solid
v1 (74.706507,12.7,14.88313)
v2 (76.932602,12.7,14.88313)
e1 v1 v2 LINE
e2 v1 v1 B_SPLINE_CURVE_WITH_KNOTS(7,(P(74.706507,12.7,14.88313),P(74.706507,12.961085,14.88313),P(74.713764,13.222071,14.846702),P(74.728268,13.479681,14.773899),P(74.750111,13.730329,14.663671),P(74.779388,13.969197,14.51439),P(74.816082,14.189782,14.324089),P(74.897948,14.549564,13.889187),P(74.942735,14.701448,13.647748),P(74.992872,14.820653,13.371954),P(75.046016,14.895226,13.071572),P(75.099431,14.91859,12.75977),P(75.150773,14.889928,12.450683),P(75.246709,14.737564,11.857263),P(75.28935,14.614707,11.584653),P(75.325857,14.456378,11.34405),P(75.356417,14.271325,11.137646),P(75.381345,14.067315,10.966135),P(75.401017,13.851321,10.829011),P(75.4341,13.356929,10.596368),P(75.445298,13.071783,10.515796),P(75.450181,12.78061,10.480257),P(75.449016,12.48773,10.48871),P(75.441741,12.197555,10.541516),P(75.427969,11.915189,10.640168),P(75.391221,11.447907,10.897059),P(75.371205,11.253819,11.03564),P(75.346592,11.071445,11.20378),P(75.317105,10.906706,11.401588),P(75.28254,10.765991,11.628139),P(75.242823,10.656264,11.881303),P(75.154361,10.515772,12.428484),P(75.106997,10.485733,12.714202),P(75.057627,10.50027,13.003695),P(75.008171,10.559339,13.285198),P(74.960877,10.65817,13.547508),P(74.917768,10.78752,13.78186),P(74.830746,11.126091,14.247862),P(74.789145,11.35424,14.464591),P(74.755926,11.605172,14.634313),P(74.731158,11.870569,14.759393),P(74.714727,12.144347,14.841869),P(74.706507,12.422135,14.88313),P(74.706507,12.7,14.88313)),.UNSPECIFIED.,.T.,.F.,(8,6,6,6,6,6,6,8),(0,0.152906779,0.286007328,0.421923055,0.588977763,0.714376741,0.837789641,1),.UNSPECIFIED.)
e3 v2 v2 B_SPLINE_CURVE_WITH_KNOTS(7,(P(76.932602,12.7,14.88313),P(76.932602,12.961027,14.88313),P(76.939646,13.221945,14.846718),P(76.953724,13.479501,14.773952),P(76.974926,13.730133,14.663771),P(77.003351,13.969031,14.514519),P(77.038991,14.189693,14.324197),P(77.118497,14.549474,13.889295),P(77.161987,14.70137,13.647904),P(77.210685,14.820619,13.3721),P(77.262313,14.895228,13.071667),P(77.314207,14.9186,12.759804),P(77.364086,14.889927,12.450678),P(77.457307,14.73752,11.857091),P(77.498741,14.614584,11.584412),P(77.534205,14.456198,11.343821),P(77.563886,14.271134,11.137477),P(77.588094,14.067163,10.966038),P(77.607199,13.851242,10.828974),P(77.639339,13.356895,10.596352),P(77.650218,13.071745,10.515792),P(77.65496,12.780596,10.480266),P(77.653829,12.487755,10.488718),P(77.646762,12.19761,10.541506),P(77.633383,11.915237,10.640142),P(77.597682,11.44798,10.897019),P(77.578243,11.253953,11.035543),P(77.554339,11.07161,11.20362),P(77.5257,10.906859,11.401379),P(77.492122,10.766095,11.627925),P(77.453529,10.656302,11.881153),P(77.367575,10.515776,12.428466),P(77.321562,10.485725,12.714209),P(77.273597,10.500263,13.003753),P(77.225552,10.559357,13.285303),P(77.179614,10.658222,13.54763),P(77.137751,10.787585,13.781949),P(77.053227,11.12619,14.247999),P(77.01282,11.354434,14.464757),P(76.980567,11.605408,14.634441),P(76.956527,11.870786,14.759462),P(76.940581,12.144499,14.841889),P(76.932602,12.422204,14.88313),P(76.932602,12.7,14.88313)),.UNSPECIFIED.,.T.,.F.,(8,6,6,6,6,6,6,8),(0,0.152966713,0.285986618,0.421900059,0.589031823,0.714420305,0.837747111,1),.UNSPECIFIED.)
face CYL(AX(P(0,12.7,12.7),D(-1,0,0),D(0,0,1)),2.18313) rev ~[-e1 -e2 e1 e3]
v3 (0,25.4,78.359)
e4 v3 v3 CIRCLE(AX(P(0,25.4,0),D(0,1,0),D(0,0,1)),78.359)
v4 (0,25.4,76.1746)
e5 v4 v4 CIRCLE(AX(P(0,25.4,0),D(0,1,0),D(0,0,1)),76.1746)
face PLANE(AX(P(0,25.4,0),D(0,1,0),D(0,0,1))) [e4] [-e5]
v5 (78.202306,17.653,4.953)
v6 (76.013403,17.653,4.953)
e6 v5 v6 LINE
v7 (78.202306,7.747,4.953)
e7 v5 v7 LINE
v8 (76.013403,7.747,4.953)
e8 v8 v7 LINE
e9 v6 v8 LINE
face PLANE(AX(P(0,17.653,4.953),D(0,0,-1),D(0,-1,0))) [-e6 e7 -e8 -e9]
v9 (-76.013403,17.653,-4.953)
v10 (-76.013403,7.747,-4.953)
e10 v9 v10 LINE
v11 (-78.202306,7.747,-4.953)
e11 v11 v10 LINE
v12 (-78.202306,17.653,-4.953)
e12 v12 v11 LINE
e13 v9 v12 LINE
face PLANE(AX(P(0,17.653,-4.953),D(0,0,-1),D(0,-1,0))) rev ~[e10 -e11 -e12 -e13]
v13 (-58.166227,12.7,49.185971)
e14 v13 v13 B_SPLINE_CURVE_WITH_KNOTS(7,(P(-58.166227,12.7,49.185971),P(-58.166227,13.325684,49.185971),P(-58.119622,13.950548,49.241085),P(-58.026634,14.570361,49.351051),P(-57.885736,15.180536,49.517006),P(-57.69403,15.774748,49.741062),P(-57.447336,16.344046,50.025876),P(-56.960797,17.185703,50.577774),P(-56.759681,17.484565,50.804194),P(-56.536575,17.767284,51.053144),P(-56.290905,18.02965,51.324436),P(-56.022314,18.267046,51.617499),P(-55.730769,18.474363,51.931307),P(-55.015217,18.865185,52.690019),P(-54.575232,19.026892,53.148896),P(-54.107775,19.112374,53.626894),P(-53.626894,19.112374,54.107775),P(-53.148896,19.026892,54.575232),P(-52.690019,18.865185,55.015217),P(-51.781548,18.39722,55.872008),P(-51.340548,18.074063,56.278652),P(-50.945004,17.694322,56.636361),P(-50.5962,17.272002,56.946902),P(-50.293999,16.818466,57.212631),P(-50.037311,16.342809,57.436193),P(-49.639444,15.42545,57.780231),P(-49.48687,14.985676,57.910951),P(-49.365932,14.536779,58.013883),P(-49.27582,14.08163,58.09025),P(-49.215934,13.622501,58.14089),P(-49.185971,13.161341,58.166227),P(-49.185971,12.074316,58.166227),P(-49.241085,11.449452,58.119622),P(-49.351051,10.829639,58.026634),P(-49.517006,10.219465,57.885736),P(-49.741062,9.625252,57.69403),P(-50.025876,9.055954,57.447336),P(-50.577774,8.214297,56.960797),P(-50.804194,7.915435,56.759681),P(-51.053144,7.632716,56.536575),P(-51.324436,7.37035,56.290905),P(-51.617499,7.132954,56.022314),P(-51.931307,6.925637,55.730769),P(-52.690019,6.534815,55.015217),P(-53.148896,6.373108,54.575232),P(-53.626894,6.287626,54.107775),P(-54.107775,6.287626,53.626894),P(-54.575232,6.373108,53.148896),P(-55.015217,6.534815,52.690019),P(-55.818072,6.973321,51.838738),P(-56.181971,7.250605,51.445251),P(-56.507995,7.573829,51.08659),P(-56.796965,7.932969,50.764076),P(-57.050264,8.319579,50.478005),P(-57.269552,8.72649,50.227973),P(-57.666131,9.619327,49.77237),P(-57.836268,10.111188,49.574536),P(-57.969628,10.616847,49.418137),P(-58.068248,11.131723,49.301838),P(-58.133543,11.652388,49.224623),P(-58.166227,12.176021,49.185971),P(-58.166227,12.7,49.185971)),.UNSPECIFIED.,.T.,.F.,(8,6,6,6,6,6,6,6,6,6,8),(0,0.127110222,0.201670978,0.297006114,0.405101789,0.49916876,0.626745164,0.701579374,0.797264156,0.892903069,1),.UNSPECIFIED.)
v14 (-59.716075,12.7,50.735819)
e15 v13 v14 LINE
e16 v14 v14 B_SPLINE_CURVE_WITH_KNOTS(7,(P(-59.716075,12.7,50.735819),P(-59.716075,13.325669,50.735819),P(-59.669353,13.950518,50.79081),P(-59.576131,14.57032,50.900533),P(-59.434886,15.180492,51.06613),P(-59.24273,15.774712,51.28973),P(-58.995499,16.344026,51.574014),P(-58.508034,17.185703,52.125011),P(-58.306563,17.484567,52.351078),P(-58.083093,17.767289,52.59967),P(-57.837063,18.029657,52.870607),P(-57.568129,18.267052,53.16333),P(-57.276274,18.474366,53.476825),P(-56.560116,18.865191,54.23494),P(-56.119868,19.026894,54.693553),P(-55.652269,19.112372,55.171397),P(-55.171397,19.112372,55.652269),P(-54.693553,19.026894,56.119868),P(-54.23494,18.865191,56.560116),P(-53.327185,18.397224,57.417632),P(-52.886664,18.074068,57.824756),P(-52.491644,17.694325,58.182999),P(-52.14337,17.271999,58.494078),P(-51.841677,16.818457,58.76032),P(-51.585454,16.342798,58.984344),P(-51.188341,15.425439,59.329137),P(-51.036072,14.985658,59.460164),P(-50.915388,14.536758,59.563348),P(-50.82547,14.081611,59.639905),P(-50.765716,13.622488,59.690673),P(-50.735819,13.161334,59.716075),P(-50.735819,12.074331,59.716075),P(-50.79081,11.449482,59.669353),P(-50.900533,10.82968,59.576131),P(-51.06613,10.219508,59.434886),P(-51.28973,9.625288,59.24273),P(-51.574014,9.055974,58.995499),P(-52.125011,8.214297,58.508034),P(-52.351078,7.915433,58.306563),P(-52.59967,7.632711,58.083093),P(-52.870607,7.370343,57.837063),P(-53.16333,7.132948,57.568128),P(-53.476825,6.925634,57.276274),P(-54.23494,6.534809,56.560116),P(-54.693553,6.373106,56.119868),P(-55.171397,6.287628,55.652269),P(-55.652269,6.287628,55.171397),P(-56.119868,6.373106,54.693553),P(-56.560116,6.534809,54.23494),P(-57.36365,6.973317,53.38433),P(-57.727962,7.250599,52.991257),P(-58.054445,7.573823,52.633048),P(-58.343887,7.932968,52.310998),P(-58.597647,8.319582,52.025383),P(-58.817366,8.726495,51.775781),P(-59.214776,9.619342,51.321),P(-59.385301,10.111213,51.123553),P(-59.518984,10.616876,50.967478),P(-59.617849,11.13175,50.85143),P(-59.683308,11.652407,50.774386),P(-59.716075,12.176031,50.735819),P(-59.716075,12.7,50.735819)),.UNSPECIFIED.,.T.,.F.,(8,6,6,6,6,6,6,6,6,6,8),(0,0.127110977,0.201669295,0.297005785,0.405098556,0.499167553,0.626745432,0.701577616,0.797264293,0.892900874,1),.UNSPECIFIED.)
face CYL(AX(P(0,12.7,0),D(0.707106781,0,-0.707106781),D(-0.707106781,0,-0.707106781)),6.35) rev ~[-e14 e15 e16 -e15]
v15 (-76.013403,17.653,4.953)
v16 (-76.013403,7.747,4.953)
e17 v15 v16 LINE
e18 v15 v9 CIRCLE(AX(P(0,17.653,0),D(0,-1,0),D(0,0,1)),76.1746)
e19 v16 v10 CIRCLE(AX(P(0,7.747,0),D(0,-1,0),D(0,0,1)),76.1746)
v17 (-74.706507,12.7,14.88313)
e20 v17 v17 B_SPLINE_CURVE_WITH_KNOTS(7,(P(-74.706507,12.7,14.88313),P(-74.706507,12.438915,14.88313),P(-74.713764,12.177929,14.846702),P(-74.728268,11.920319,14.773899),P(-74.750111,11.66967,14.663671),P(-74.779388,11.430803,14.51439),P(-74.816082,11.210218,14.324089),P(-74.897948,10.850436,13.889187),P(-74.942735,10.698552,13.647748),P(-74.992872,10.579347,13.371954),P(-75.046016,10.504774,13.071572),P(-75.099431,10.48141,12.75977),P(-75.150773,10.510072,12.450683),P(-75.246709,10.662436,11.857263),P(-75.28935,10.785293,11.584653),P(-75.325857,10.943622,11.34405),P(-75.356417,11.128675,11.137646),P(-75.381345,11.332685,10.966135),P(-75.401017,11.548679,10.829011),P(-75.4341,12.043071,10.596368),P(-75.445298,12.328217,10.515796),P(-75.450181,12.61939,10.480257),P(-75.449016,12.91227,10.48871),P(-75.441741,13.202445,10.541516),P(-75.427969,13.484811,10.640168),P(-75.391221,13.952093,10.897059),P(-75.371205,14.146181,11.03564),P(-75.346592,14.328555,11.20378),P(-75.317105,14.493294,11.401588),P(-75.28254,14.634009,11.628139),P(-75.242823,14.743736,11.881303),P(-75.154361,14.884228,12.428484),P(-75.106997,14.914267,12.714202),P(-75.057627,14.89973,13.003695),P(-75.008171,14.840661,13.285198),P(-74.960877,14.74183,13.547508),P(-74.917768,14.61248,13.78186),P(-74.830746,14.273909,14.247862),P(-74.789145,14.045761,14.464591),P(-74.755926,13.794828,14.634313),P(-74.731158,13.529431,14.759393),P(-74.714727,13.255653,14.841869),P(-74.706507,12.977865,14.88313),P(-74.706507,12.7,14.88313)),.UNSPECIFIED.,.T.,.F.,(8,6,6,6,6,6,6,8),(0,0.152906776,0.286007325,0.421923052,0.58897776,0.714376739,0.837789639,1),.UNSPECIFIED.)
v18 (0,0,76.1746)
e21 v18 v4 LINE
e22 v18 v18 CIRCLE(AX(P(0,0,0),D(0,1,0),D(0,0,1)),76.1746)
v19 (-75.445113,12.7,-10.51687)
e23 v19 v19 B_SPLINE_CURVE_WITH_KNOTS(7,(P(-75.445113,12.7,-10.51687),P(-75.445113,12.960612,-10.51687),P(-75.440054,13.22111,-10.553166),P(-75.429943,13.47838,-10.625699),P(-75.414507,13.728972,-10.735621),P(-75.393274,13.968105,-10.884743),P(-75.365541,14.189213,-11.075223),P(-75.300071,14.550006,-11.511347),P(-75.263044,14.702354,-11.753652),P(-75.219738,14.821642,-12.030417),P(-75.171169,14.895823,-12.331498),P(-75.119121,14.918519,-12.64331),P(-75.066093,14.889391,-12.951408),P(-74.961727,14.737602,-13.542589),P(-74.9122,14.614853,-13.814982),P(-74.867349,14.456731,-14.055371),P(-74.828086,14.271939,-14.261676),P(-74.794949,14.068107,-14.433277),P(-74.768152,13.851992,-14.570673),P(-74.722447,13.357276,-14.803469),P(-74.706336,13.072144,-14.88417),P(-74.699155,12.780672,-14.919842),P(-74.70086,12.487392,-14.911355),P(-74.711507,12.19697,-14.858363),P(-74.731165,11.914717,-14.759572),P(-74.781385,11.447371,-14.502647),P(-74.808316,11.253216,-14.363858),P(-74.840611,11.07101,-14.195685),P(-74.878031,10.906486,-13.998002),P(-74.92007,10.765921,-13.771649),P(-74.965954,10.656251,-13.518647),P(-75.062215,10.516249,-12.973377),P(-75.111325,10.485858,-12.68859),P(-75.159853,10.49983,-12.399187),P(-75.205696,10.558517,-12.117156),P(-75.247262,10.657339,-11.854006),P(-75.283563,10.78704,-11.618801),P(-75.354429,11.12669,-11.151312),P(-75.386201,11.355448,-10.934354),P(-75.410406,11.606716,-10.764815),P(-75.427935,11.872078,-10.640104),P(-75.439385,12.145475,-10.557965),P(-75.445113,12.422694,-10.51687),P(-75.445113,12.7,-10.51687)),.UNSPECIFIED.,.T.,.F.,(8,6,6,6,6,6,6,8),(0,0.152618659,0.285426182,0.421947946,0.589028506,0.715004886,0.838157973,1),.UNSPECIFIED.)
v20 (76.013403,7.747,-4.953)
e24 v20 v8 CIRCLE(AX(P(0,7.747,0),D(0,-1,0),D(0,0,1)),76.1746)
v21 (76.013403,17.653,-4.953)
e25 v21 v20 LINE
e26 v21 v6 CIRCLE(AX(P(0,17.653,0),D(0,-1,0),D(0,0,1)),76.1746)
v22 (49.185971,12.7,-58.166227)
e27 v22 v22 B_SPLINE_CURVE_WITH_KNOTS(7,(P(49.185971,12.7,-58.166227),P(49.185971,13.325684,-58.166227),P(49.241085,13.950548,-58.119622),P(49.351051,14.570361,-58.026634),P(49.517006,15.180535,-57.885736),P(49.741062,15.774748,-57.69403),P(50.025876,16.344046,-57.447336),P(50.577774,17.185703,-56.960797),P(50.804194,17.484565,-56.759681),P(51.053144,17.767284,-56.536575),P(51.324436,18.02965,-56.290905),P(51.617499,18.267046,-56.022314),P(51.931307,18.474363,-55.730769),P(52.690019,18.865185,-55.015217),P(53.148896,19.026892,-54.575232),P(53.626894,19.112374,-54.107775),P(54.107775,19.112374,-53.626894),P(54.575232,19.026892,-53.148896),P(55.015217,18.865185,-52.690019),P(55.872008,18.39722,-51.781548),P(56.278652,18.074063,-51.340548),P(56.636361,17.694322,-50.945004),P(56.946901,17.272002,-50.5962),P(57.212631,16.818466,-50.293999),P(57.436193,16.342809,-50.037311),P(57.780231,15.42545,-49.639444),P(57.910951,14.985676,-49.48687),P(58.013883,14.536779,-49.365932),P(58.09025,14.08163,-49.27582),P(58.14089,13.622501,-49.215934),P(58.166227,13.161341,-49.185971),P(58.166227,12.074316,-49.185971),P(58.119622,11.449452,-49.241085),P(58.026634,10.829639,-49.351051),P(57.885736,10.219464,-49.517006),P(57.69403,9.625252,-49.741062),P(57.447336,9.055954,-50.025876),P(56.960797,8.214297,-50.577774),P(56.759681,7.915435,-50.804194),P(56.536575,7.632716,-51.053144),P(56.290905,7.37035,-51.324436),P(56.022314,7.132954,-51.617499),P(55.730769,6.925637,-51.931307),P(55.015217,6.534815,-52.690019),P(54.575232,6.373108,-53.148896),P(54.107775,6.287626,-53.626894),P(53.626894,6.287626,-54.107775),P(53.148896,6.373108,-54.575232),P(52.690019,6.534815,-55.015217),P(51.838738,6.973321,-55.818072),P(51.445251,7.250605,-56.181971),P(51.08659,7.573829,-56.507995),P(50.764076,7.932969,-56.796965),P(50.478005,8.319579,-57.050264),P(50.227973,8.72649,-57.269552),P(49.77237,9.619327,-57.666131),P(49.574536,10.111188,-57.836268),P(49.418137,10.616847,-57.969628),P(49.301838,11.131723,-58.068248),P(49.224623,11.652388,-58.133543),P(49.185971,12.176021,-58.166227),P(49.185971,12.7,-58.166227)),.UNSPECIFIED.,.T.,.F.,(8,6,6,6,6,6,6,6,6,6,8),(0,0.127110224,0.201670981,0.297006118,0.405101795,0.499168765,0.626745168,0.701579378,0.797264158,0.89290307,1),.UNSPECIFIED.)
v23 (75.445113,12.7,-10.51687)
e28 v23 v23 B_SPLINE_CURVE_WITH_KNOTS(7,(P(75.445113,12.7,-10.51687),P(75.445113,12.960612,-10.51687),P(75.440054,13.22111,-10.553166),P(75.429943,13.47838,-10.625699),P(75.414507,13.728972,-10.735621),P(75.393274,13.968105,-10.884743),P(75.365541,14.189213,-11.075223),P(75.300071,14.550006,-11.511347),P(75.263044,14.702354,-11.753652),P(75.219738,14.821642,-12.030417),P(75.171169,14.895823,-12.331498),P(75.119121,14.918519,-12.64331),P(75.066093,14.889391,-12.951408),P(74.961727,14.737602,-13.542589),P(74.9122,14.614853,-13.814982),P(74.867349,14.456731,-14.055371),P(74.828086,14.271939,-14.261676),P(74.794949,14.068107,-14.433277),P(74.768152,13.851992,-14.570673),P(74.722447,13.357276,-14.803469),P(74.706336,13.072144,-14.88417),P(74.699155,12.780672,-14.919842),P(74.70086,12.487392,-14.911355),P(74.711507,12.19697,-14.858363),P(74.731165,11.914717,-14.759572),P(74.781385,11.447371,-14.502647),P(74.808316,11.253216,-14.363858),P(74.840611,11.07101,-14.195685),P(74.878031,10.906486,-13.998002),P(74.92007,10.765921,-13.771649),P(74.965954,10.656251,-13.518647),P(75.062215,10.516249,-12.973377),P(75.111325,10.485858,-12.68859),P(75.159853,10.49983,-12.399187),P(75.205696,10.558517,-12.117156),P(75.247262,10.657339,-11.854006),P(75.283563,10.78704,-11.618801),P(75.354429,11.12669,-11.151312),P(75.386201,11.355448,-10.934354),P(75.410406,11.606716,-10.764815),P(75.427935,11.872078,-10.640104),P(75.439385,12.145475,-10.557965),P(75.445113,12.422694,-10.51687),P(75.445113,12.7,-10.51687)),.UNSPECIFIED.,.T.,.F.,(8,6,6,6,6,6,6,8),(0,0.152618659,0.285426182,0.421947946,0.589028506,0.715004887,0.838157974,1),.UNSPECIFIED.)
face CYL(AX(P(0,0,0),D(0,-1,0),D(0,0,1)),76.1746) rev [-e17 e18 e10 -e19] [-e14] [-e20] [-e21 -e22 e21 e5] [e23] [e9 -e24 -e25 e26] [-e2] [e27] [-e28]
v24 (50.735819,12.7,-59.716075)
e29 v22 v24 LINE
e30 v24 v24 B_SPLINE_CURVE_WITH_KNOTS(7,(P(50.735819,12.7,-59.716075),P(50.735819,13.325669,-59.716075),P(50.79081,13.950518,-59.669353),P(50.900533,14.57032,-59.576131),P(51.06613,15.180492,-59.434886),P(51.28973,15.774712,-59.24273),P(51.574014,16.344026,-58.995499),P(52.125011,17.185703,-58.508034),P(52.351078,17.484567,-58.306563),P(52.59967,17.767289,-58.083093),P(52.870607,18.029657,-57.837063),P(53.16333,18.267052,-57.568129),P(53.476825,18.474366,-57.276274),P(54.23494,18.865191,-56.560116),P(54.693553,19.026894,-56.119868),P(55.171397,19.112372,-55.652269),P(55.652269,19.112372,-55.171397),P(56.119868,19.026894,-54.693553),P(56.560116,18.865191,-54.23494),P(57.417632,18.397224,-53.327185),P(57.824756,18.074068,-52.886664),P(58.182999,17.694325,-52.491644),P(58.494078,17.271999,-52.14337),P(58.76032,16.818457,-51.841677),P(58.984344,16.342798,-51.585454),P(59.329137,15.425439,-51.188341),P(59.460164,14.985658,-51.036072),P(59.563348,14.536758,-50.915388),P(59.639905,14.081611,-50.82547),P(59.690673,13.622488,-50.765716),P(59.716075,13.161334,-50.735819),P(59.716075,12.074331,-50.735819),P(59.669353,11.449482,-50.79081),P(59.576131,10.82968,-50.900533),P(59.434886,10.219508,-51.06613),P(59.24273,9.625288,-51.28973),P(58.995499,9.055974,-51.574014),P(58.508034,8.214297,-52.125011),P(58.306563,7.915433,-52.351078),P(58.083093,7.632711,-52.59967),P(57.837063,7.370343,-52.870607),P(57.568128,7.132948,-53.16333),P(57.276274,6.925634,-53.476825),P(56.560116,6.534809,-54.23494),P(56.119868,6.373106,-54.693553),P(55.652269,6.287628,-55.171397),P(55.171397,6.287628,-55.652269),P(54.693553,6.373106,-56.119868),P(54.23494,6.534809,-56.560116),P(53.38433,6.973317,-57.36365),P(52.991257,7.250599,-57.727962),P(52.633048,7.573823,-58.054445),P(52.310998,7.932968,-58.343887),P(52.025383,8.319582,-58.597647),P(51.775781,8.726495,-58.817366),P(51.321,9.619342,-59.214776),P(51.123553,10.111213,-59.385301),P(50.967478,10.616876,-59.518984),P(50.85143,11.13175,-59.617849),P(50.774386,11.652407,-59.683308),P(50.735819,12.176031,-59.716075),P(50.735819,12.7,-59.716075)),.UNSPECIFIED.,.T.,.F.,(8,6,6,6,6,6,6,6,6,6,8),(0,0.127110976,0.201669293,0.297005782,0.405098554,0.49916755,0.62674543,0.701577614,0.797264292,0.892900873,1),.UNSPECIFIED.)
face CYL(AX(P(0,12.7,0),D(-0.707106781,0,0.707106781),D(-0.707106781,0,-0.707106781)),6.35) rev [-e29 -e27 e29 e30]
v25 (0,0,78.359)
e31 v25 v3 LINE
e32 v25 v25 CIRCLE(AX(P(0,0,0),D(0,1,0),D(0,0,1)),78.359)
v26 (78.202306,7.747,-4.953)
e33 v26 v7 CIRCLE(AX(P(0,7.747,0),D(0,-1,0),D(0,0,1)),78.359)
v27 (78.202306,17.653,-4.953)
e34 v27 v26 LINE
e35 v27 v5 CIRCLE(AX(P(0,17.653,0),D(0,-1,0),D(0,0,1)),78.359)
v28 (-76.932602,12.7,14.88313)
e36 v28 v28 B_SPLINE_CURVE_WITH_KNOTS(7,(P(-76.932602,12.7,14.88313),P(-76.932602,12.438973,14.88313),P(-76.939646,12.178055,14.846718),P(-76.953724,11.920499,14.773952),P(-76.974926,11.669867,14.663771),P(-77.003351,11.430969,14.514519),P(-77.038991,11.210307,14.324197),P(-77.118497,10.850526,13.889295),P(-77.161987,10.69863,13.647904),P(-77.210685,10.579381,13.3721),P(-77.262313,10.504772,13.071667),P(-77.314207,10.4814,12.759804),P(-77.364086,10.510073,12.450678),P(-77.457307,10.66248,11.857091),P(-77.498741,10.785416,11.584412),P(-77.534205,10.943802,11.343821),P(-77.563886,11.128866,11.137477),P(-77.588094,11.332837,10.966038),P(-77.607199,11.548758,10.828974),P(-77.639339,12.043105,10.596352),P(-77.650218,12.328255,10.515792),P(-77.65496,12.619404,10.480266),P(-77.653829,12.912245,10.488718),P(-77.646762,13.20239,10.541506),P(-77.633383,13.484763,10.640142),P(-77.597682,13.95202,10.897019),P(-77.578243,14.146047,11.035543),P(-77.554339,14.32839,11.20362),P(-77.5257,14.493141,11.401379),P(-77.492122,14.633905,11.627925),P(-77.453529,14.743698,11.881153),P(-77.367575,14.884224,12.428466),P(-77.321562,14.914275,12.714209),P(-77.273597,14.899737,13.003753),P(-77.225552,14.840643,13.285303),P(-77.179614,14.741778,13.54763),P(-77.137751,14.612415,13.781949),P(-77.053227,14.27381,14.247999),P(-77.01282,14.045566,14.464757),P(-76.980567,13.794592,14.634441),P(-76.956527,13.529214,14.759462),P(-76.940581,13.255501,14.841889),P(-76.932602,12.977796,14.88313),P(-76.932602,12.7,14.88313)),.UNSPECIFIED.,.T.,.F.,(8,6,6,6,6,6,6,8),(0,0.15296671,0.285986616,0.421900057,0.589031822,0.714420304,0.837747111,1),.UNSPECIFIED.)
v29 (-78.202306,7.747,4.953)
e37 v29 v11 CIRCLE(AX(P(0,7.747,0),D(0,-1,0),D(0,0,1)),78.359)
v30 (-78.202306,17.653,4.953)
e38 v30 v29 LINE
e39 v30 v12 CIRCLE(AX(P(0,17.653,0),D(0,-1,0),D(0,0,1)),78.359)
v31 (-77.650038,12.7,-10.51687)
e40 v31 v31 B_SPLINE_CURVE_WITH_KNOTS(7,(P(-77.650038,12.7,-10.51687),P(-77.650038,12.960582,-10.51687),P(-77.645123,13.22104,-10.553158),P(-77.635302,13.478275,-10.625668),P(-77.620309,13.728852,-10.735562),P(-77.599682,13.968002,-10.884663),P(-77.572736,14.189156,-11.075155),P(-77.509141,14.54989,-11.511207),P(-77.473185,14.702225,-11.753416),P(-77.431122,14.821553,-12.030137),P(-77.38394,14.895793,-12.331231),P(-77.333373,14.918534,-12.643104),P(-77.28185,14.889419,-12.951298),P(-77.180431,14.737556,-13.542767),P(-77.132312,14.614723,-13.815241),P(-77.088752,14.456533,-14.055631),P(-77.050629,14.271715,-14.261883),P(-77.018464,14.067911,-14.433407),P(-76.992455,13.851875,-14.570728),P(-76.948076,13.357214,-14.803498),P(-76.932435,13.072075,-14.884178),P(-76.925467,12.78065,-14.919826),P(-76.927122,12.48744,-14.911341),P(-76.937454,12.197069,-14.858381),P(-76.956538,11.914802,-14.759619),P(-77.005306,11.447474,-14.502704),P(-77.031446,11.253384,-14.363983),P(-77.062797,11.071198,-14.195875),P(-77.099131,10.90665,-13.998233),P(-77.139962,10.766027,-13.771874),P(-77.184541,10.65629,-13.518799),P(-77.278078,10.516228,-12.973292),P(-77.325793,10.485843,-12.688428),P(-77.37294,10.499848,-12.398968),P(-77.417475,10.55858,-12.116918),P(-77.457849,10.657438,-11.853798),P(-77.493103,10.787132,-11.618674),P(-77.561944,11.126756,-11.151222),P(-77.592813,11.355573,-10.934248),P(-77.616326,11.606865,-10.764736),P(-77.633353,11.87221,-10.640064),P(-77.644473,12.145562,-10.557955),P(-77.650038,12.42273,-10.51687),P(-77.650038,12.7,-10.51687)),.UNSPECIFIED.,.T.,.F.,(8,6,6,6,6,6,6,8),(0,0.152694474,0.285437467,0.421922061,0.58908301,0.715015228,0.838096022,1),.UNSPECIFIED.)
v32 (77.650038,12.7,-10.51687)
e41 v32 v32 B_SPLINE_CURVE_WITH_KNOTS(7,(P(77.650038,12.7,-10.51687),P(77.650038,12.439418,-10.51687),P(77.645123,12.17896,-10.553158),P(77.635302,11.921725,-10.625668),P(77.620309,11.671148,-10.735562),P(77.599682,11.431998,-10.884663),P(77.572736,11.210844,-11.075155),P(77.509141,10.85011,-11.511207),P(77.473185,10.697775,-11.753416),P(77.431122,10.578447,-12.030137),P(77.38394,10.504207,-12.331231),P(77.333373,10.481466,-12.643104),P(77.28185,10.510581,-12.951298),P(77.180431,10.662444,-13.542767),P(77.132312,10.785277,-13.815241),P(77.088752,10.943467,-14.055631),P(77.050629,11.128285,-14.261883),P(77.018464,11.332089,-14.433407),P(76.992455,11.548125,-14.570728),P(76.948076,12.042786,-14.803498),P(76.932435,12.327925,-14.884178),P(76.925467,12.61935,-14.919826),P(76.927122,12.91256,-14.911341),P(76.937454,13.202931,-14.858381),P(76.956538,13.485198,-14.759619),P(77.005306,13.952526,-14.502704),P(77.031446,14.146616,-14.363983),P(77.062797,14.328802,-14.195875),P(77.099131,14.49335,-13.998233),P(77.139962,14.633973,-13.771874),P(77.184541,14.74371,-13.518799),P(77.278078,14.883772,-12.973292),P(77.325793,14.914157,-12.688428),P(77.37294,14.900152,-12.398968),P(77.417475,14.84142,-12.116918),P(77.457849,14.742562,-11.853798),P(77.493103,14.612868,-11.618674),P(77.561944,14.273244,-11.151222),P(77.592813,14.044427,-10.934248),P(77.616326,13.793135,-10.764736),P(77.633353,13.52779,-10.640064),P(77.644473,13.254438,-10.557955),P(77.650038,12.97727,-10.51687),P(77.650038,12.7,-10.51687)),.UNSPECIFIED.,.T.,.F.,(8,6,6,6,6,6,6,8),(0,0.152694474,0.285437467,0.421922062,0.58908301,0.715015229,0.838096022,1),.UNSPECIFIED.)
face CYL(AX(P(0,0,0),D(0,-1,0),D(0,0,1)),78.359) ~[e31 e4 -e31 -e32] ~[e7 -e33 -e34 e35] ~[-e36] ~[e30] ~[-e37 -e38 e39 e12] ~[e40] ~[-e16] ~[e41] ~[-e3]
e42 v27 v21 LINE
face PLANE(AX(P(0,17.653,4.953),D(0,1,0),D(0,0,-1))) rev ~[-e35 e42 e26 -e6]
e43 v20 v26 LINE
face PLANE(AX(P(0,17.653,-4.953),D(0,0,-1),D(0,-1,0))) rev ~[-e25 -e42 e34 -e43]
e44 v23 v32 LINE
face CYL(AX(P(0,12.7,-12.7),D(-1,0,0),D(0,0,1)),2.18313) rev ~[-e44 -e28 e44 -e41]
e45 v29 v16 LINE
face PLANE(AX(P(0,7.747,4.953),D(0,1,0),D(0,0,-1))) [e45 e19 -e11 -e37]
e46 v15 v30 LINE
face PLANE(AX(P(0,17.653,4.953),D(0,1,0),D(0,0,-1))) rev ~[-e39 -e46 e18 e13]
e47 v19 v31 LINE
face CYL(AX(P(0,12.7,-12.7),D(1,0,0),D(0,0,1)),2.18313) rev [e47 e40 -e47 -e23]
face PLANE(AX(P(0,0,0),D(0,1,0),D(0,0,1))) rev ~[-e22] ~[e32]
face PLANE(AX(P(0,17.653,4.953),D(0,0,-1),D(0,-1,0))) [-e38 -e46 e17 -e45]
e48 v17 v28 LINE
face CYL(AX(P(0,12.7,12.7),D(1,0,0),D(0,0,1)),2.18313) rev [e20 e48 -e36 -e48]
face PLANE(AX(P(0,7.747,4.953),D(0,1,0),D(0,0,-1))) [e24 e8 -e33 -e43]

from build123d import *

# Parameters (mm, degrees)
SKETCH1_R                                    = 78.359
SKETCH1_R_2                                  = 76.1746
BOSS_EXTRUDE1_DEPTH                          = 25.4
SKETCH2_W                                    = 9.906
SKETCH2_H                                    = 9.906
SKETCH2_R                                    = 2.18313
CUT_EXTRUDE1_DEPTH                           = 114.690042493
MIRROR2_AT_THE_SECOND_PLANE_COPY_1_SKETC_R   = 78.359
MIRROR2_AT_THE_SECOND_PLANE_COPY_1_SKETC_R_2 = 76.1746
MIRROR2_AT_THE_SECOND_PLANE_COPY_1_DEPTH     = 25.4
MIRROR2_AT_THE_SECOND_PLANE_COPY_2_SKETC_W   = 9.906
MIRROR2_AT_THE_SECOND_PLANE_COPY_2_SKETC_H   = 9.906
MIRROR2_AT_THE_SECOND_PLANE_COPY_2_SKETC_R   = 2.18313
MIRROR2_AT_THE_SECOND_PLANE_COPY_2_DEPTH     = 114.690042493
CUT_EXTRUDE2_DEPTH                           = 114.690042653
CUT_EXTRUDE2_DEPTH_BACK                      = 114.690042653
SKETCH3_R                                    = 6.35


with BuildPart() as part:
    # Sketch1 → Boss-Extrude1 (new body)
    with BuildSketch(Plane(origin=(0, 0, 0), x_dir=(1, 0, 0), z_dir=(0, 1, 0))):
        Circle(SKETCH1_R)
        Circle(SKETCH1_R_2, mode=Mode.SUBTRACT)
    boss_extrude1 = extrude(amount=BOSS_EXTRUDE1_DEPTH)

    # Sketch2 → Cut-Extrude1 (cut, symmetric)
    with BuildSketch(Plane(origin=(0, 0, 0), x_dir=(0, 0, -1), z_dir=(1, 0, 0))):
        with Locations((0, 12.7)):
            Rectangle(SKETCH2_W, SKETCH2_H)
        with Locations((-12.7, 12.7)):
            Circle(SKETCH2_R)
        with Locations((12.7, 12.7)):
            Circle(SKETCH2_R)
    cut_extrude1 = extrude(amount=CUT_EXTRUDE1_DEPTH, both=True, mode=Mode.SUBTRACT)

    # Mirror2: Boss-Extrude1, Cut-Extrude1 across plane
    add(boss_extrude1.mirror(Plane(origin=(0, 0, 0), x_dir=(0, 0, 1), z_dir=(1, 0, 0))))
    add(cut_extrude1.mirror(Plane(origin=(0, 0, 0), x_dir=(0, 0, 1), z_dir=(1, 0, 0))), mode=Mode.SUBTRACT)

    # Mirror2 at the second plane: Boss-Extrude1, Cut-Extrude1 across plane
    add(boss_extrude1.mirror(Plane.ZX.offset(12.7)))
    add(cut_extrude1.mirror(Plane.ZX.offset(12.7)), mode=Mode.SUBTRACT)

    # Mirror2 at the second plane copy 1 sketc → Mirror2 at the second plane copy 1 (add)
    with BuildSketch(Plane(origin=(0, 25.4, 0), x_dir=(-1, 0, 0), z_dir=(0, -1, 0))):
        Circle(MIRROR2_AT_THE_SECOND_PLANE_COPY_1_SKETC_R)
        Circle(MIRROR2_AT_THE_SECOND_PLANE_COPY_1_SKETC_R_2, mode=Mode.SUBTRACT)
    extrude(amount=MIRROR2_AT_THE_SECOND_PLANE_COPY_1_DEPTH)

    # Mirror2 at the second plane copy 2 sketc → Mirror2 at the second plane copy 2 (cut, symmetric)
    with BuildSketch(Plane(origin=(0, 25.4, 0), x_dir=(0, 0, -1), z_dir=(-1, 0, 0))):
        with Locations((0, 12.7)):
            Rectangle(MIRROR2_AT_THE_SECOND_PLANE_COPY_2_SKETC_W, MIRROR2_AT_THE_SECOND_PLANE_COPY_2_SKETC_H)
        with Locations((-12.7, 12.7)):
            Circle(MIRROR2_AT_THE_SECOND_PLANE_COPY_2_SKETC_R)
        with Locations((12.7, 12.7)):
            Circle(MIRROR2_AT_THE_SECOND_PLANE_COPY_2_SKETC_R)
    extrude(amount=MIRROR2_AT_THE_SECOND_PLANE_COPY_2_DEPTH, both=True, mode=Mode.SUBTRACT)

    # Sketch3 → Cut-Extrude2 (cut, two sides: drawn at the far end of the back side and taken through both)
    with BuildSketch(Plane(origin=(0, 0, 0), x_dir=(-0.7071067811865477, 0, -0.7071067811865475), z_dir=(0.7071067811865475, 0, -0.7071067811865477)).offset(-CUT_EXTRUDE2_DEPTH_BACK)):
        with Locations((0, 12.7)):
            Circle(SKETCH3_R)
    extrude(amount=CUT_EXTRUDE2_DEPTH + CUT_EXTRUDE2_DEPTH_BACK, mode=Mode.SUBTRACT)


solid = part.part
